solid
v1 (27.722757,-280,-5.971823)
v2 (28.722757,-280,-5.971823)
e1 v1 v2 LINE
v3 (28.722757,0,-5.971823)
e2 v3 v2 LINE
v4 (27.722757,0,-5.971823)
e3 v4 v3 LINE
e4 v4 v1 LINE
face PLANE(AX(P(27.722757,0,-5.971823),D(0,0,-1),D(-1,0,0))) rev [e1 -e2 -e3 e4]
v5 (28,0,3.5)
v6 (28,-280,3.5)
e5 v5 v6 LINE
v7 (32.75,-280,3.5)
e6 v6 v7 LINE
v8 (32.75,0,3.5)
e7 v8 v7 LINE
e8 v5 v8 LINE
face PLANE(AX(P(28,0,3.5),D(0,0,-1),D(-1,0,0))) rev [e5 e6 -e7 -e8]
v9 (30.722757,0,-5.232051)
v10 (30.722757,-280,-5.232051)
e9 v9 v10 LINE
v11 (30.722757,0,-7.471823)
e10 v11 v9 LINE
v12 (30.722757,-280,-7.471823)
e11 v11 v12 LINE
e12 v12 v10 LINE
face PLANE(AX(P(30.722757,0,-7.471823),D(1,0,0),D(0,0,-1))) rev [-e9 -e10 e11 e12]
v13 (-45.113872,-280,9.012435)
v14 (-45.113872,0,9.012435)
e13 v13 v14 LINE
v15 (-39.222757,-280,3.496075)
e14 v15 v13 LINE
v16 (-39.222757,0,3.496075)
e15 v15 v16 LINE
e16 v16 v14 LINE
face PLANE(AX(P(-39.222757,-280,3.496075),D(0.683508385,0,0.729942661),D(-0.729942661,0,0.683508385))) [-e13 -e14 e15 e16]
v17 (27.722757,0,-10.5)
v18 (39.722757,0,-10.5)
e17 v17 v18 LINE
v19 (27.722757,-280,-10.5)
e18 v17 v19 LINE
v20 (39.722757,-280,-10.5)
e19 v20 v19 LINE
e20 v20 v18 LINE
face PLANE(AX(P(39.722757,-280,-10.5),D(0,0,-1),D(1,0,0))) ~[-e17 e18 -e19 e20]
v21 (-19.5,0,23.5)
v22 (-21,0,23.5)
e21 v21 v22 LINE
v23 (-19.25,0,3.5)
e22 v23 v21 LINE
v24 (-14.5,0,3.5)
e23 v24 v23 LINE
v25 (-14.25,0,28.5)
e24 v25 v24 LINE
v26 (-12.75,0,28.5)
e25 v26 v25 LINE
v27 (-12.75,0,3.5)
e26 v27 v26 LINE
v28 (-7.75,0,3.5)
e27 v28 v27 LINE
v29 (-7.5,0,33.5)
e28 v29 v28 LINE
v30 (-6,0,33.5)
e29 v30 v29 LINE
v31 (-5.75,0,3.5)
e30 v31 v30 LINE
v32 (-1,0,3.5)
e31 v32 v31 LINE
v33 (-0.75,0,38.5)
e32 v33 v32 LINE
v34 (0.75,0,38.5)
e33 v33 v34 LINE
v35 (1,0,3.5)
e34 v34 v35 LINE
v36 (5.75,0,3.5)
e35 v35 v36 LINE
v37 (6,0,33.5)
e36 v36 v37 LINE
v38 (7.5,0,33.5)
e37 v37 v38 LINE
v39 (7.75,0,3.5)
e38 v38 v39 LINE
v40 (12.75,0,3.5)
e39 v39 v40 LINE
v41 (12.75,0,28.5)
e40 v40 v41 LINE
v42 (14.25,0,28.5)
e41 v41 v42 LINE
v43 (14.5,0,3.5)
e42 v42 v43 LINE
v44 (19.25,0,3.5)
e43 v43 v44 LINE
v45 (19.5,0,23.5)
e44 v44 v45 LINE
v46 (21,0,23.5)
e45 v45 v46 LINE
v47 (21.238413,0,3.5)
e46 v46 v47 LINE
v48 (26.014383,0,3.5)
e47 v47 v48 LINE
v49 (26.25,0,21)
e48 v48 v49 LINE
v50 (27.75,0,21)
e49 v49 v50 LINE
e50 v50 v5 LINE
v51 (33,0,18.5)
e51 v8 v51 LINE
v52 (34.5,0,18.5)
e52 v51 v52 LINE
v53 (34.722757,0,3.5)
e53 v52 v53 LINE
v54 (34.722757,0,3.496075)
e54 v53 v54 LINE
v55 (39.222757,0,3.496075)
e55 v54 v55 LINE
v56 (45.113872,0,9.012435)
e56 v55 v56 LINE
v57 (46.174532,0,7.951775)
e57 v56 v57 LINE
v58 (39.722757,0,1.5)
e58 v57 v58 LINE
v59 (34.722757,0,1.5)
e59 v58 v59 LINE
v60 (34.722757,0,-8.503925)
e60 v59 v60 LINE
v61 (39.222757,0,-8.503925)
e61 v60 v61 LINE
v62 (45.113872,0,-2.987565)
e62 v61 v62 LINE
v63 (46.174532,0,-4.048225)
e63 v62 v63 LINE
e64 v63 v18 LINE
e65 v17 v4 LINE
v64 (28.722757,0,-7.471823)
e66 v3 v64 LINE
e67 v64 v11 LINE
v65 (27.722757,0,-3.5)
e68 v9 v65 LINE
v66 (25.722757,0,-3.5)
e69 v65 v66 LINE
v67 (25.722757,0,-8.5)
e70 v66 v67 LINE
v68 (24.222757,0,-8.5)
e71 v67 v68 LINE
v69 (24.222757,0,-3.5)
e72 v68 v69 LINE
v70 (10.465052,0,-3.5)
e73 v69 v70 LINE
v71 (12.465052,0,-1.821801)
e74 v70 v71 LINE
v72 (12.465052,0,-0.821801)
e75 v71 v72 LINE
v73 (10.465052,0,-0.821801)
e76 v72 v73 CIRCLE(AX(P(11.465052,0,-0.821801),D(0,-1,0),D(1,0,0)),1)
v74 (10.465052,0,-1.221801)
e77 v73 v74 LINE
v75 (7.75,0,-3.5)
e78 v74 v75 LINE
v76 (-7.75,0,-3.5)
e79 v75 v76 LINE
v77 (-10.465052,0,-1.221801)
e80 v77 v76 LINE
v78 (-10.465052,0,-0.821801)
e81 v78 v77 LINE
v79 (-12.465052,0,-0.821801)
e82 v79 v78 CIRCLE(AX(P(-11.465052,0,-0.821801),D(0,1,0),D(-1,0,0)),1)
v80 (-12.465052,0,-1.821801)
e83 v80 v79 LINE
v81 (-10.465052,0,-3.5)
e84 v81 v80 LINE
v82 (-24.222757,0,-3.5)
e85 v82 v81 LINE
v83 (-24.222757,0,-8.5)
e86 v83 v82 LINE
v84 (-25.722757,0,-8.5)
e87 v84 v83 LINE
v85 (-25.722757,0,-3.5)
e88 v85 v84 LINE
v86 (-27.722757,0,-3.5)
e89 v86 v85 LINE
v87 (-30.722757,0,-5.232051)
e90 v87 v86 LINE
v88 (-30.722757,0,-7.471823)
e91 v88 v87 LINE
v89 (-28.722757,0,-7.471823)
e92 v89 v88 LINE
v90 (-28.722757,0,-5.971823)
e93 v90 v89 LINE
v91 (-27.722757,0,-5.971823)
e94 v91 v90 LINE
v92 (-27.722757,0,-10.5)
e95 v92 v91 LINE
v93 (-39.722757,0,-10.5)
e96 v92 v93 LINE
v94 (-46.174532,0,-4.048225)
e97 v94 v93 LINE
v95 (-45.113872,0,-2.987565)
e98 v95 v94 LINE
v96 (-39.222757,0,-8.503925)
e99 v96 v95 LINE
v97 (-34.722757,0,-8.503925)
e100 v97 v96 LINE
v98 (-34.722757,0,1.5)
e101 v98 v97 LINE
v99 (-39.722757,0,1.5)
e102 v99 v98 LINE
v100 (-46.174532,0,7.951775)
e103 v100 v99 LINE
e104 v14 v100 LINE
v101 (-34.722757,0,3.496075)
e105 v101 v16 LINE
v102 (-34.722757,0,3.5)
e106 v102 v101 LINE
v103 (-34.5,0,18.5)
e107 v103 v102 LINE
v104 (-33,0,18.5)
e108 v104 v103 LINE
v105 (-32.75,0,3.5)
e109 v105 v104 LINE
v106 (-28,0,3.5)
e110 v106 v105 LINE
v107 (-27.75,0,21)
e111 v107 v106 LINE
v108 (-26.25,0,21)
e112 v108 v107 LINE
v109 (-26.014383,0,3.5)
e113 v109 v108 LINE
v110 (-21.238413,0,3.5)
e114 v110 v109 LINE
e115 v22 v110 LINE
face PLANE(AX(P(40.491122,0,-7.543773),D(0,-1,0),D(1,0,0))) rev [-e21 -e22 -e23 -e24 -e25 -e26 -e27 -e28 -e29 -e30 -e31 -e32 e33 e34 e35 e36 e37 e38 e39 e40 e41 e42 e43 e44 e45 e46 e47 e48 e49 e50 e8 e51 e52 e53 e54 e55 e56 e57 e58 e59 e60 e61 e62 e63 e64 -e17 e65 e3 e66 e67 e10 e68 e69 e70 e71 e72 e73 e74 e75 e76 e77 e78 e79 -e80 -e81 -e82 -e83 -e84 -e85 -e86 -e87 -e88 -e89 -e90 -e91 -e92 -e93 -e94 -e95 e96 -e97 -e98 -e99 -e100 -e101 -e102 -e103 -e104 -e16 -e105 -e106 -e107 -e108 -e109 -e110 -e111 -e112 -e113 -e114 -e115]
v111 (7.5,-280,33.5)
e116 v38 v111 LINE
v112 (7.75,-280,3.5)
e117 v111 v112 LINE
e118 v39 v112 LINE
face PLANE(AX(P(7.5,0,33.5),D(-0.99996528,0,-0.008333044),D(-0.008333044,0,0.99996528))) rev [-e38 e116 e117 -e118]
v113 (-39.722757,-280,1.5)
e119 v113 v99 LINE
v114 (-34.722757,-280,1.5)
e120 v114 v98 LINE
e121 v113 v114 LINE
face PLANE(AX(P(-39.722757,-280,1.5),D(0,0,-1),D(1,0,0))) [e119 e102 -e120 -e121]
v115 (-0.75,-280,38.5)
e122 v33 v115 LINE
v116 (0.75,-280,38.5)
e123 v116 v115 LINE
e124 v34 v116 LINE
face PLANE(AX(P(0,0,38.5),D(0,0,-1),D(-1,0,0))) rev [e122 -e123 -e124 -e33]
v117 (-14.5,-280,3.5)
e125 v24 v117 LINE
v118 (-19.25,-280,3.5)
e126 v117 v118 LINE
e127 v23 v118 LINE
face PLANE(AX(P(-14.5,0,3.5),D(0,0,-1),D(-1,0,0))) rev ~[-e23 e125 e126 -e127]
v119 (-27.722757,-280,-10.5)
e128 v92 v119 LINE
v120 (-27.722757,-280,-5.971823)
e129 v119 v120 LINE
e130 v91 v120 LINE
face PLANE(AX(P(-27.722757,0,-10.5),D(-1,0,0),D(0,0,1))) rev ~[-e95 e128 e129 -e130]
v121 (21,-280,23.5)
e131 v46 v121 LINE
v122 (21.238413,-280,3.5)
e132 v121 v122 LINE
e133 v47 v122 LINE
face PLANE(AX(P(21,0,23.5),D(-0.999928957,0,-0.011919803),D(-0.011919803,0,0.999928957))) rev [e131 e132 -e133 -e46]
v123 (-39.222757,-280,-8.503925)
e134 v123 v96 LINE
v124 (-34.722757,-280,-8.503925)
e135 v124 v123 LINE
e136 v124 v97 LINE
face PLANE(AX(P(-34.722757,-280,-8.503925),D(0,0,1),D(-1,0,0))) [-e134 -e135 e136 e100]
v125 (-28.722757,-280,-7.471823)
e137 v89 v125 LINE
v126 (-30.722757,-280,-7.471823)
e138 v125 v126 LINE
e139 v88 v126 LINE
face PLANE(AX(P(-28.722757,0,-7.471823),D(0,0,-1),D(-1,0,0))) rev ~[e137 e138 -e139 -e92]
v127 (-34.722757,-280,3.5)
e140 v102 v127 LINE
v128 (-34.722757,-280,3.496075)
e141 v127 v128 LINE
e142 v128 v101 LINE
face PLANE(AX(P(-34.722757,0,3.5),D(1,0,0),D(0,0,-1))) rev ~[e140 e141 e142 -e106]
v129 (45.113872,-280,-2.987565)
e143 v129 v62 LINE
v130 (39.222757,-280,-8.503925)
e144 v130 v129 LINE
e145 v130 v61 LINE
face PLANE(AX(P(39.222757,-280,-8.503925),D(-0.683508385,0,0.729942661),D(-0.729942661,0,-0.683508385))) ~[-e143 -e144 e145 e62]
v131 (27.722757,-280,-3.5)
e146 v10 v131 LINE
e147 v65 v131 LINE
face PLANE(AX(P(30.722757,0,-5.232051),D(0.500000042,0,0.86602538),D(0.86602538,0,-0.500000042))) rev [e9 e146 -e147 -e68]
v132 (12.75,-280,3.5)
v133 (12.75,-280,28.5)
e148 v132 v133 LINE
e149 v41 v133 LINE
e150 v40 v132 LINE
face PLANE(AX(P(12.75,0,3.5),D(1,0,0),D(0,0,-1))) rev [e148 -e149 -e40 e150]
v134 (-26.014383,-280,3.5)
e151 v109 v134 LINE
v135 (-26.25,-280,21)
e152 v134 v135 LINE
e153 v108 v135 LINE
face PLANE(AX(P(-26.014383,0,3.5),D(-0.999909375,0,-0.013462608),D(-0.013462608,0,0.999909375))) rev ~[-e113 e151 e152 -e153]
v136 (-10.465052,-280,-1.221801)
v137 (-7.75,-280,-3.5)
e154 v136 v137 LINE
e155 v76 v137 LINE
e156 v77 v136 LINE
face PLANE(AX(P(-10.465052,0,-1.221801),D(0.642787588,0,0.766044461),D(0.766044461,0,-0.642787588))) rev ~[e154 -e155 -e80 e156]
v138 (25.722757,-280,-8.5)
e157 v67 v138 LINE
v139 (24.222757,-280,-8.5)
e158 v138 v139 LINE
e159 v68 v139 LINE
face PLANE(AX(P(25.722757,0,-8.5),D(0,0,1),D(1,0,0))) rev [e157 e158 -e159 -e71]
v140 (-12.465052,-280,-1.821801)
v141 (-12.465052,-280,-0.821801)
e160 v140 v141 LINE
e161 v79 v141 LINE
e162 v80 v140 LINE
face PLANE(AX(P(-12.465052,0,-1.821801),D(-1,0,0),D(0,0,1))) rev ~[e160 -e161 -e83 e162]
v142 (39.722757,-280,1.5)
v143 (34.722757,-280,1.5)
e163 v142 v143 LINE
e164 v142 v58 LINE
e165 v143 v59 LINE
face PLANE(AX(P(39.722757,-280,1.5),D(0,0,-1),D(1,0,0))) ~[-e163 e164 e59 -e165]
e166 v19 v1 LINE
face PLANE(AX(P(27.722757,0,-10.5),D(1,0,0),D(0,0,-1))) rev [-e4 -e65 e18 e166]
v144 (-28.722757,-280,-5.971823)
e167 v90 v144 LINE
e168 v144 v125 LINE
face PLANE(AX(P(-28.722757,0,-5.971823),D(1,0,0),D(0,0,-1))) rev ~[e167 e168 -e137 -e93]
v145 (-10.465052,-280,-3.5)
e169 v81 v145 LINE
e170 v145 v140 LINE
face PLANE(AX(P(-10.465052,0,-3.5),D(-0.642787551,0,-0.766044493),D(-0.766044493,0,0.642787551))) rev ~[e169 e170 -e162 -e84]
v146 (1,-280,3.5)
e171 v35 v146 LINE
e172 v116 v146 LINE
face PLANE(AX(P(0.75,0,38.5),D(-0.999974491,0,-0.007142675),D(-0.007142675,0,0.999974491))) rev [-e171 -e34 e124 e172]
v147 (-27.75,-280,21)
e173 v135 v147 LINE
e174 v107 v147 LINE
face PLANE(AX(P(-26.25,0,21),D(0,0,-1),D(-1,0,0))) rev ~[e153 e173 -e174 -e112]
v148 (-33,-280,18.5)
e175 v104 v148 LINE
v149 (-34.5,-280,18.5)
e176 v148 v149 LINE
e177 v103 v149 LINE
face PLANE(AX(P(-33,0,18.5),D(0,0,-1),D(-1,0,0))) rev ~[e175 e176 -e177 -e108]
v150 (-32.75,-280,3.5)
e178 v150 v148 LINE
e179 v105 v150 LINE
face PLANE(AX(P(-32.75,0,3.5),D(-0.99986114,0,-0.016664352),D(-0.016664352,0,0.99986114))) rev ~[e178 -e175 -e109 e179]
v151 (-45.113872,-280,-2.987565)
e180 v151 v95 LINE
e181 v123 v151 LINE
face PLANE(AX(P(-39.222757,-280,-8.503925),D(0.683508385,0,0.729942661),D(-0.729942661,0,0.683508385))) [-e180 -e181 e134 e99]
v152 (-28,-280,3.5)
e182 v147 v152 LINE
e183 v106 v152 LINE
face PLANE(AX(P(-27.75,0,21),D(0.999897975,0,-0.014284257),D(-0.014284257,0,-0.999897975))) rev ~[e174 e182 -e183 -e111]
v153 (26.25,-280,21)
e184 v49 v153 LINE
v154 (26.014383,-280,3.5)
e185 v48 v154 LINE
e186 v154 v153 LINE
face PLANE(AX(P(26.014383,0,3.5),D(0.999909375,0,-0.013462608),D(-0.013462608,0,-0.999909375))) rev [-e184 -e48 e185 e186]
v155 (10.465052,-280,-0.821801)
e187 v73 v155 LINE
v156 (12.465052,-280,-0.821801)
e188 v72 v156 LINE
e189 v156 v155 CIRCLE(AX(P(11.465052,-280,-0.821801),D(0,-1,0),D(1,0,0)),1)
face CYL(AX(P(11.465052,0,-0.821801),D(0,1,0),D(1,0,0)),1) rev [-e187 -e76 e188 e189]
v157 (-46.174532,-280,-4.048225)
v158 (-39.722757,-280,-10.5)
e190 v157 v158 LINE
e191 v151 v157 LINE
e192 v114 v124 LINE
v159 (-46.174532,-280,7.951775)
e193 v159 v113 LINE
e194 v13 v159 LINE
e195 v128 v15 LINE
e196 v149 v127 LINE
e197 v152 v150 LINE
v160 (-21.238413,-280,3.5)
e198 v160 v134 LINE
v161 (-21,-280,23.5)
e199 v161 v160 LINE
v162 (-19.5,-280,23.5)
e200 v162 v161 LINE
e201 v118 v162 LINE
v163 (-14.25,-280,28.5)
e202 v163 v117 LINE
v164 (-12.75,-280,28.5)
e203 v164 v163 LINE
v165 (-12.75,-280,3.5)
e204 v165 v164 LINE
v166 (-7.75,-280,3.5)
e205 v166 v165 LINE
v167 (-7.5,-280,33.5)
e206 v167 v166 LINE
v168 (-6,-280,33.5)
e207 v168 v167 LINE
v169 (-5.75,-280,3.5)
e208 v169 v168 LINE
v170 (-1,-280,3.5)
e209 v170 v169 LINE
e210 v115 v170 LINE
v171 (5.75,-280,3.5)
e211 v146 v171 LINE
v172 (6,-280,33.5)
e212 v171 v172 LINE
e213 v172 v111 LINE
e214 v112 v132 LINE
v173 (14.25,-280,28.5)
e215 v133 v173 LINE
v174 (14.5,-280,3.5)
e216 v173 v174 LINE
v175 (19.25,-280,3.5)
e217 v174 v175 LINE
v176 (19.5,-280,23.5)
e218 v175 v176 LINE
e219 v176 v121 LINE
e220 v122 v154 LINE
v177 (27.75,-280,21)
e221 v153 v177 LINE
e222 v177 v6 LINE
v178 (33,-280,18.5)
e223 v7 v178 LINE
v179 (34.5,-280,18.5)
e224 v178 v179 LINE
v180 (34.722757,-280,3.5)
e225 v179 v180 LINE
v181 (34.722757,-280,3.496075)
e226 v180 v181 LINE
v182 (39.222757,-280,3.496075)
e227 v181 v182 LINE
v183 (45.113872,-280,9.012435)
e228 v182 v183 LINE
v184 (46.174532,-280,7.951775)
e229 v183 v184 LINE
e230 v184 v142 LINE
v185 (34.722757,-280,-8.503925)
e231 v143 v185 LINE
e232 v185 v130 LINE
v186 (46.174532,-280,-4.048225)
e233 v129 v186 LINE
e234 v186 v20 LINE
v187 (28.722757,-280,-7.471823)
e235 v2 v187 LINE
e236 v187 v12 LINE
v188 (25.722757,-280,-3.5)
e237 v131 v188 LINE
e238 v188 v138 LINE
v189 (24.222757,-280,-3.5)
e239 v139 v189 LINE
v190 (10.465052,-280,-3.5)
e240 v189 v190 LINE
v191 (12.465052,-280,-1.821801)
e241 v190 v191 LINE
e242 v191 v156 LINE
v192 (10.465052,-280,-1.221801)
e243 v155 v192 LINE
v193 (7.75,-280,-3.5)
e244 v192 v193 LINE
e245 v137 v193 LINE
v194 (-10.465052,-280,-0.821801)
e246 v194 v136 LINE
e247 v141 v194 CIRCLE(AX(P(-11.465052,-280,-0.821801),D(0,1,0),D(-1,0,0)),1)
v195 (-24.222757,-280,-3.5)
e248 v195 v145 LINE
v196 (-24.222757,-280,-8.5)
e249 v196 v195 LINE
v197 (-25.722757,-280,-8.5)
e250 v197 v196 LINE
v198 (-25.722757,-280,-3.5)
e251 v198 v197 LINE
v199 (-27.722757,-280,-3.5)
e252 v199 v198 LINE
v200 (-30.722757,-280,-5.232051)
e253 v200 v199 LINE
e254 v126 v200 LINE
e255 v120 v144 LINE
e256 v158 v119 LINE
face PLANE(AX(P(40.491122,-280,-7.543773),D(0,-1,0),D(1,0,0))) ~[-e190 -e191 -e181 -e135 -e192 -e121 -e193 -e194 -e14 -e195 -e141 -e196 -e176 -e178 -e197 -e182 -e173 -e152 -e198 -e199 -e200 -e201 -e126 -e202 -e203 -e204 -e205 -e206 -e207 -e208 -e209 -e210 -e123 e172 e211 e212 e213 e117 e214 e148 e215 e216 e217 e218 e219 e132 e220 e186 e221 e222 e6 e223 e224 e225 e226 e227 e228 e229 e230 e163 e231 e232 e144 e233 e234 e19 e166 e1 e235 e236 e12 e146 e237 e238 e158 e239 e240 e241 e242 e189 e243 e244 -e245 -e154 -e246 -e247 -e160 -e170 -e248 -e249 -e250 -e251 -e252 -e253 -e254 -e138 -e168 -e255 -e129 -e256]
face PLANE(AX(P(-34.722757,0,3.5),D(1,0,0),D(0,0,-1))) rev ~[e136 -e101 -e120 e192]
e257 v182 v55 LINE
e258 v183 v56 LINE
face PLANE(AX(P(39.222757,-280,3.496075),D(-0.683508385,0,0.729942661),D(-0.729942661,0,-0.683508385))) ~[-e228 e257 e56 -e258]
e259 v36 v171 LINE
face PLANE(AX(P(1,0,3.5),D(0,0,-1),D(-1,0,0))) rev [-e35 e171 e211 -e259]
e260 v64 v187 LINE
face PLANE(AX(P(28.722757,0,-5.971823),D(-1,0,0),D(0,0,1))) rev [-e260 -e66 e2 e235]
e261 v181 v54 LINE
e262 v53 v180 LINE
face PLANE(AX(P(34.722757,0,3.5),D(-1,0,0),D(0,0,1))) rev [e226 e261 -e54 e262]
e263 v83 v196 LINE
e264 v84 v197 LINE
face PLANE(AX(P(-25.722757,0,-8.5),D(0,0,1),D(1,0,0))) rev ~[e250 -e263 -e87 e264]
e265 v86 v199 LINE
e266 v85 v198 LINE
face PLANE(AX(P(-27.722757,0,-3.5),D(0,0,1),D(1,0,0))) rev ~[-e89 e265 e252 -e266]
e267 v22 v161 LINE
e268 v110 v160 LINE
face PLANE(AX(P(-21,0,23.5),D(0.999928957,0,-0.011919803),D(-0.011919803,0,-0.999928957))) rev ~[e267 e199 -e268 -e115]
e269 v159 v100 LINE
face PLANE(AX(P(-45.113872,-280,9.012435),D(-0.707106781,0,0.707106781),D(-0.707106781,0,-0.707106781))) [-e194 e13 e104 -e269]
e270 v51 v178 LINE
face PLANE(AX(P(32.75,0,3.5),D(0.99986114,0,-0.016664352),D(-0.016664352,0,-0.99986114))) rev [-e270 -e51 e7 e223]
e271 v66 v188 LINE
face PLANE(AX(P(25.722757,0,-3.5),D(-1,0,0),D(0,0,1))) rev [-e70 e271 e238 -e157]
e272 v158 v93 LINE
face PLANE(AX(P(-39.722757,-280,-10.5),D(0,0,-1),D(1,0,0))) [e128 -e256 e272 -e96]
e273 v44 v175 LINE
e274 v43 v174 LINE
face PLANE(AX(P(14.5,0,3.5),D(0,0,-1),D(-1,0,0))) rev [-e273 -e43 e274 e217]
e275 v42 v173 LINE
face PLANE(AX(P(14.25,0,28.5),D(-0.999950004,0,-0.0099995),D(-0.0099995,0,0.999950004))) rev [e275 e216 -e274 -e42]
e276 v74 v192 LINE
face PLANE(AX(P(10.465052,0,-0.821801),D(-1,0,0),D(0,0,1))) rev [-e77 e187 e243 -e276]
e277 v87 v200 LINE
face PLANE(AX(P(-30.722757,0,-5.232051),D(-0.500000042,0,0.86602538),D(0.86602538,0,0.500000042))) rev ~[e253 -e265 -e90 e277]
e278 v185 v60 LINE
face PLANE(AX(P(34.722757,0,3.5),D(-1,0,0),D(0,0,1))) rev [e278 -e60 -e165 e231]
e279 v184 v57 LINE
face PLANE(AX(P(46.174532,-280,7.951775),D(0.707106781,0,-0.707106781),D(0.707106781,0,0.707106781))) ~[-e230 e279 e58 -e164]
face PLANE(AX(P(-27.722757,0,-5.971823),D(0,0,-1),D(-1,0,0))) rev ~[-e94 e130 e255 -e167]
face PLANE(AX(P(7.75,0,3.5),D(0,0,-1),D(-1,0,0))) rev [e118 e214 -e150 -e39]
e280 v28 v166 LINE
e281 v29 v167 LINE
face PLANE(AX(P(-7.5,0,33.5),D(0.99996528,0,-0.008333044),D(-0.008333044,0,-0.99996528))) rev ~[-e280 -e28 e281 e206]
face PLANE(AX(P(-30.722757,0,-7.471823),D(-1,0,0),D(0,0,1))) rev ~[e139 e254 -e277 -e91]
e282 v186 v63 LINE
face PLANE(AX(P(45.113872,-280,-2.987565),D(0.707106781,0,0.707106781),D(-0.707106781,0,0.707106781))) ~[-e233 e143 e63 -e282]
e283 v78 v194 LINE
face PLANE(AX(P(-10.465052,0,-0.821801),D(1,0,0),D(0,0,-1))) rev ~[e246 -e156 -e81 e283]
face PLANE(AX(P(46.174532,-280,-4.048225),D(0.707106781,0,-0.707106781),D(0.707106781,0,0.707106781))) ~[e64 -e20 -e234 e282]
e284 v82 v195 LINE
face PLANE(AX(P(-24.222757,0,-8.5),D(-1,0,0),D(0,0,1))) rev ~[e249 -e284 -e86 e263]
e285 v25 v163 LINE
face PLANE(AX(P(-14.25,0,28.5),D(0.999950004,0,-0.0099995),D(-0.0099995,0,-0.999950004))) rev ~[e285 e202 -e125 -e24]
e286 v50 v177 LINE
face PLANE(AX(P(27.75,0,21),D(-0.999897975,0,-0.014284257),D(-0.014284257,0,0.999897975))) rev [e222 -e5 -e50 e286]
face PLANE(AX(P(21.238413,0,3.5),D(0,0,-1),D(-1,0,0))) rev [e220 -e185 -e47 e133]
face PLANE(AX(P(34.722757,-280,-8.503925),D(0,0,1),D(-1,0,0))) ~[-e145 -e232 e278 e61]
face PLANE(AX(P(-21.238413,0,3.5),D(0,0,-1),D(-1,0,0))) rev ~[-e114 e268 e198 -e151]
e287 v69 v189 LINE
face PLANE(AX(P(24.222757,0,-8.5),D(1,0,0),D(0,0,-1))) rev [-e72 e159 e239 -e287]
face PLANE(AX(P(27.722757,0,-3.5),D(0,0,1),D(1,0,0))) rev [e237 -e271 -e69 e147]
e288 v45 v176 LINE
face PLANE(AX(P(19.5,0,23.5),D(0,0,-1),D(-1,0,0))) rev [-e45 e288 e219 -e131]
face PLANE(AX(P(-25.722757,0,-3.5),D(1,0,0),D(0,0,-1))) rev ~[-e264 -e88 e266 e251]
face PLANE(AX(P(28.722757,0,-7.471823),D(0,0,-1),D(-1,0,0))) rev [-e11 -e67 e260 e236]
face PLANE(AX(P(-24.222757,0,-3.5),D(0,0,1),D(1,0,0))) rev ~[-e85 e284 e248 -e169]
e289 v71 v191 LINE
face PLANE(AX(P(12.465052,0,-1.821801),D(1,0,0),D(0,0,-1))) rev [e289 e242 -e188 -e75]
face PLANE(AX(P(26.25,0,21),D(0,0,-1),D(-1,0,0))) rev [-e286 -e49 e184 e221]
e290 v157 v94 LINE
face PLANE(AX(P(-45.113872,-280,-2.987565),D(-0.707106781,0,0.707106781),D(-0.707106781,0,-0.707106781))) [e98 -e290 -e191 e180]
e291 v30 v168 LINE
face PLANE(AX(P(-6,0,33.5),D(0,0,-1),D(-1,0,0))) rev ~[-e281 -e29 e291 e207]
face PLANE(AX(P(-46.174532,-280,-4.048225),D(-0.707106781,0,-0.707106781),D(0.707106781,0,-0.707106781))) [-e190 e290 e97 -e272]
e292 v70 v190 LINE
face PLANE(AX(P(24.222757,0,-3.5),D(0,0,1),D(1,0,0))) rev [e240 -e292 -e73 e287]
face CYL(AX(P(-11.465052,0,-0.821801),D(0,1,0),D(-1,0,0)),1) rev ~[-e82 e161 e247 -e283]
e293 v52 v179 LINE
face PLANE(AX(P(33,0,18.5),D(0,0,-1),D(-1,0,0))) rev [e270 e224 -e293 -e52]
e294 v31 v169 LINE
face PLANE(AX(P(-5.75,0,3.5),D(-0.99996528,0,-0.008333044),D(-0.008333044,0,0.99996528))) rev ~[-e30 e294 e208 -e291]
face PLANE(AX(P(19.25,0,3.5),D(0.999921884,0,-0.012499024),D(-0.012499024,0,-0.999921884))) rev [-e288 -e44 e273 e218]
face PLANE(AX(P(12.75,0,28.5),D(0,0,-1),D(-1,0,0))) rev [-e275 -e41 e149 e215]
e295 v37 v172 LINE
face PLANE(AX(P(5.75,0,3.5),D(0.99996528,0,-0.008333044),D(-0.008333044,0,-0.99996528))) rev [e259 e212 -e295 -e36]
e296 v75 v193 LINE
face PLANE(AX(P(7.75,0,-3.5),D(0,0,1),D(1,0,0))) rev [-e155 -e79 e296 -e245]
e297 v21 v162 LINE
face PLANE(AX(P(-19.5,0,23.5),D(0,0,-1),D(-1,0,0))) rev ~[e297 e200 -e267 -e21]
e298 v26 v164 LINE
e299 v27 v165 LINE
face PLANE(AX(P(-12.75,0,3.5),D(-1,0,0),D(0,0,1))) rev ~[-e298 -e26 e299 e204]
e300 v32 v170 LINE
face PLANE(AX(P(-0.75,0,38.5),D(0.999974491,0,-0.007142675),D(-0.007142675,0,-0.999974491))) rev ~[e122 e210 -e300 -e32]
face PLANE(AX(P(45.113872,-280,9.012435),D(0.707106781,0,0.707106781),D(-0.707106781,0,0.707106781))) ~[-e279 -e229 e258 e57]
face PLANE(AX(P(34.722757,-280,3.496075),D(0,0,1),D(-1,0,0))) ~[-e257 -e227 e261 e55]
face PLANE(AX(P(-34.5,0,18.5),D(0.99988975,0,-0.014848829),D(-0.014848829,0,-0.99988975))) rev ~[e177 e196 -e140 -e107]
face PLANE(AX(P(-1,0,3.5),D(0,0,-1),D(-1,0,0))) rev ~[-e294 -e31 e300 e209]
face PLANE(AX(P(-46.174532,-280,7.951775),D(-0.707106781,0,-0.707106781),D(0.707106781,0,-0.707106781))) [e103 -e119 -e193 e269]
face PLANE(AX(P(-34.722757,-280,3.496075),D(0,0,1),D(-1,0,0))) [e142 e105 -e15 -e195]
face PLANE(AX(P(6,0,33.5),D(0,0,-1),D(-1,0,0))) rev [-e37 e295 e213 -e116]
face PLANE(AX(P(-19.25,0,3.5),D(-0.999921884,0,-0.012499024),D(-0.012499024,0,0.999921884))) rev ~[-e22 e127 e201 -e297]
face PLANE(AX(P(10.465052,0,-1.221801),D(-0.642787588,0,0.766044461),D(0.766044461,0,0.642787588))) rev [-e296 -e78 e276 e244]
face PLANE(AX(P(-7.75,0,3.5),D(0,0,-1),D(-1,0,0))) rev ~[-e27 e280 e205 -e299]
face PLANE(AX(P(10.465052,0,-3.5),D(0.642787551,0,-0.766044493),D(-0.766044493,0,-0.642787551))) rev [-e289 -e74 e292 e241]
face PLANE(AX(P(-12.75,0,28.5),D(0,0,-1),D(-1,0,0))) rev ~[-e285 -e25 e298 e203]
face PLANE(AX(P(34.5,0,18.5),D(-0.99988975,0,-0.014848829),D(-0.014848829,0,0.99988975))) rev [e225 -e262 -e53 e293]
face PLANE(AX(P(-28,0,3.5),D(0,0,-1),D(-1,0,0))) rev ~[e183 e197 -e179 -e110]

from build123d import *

# Parameters (mm, degrees)
F1_DEPTH = 280
F3_DEPTH = 280


with BuildPart() as f1:
    # F0 (on Front) → F1 (new body)
    with BuildSketch(Plane.XZ):
        with BuildLine():
            Line((-32.75, 3.5), (-33, 18.5))
            Line((-33, 18.5), (-34.5, 18.5))
            Line((-34.5, 18.5), (-34.722757, 3.5))
            Line((-34.722757, 3.5), (-34.722757, -10.5))
            Line((-34.722757, -10.5), (-27.722757, -10.5))
            Line((-27.722757, -10.5), (-27.722757, -5.971823))
            Line((-27.722757, -5.971823), (-28.722757, -5.971823))
            Line((-28.722757, -5.971823), (-28.722757, -7.471823))
            Line((-28.722757, -7.471823), (-30.722757, -7.471823))
            Line((-30.722757, -7.471823), (-30.722757, -5.232051))
            Line((-30.722757, -5.232051), (-27.722757, -3.5))
            Line((-27.722757, -3.5), (-25.722757, -3.5))
            Line((-25.722757, -3.5), (-25.722757, -8.5))
            Line((-25.722757, -8.5), (-24.222757, -8.5))
            Line((-24.222757, -8.5), (-24.222757, -3.5))
            Line((-24.222757, -3.5), (-10.465052, -3.5))
            Line((-10.465052, -3.5), (-12.465052, -1.821801))
            Line((-12.465052, -1.821801), (-12.465052, -0.821801))
            ThreePointArc((-12.465052, -0.821801), (-11.465052, 0.178199), (-10.465052, -0.821801))
            Line((-10.465052, -0.821801), (-10.465052, -1.221801))
            Line((-10.465052, -1.221801), (-7.75, -3.5))
            Line((-7.75, -3.5), (0, -3.5))
            Line((0, -3.5), (0, 38.5))
            Line((0, 38.5), (-0.75, 38.5))
            Line((-0.75, 38.5), (-1, 3.5))
            Line((-1, 3.5), (-5.75, 3.5))
            Line((-5.75, 3.5), (-6, 33.5))
            Line((-6, 33.5), (-7.5, 33.5))
            Line((-7.5, 33.5), (-7.75, 3.5))
            Line((-7.75, 3.5), (-12.75, 3.5))
            Line((-12.75, 3.5), (-12.75, 28.5))
            Line((-12.75, 28.5), (-14.25, 28.5))
            Line((-14.25, 28.5), (-14.5, 3.5))
            Line((-14.5, 3.5), (-19.25, 3.5))
            Line((-19.25, 3.5), (-19.5, 23.5))
            Line((-19.5, 23.5), (-21, 23.5))
            Line((-21, 23.5), (-21.238413, 3.5))
            Line((-21.238413, 3.5), (-26.014383, 3.5))
            Line((-26.014383, 3.5), (-26.25, 21))
            Line((-26.25, 21), (-27.75, 21))
            Line((-27.75, 21), (-28, 3.5))
            Line((-28, 3.5), (-32.75, 3.5))
        make_face()
    extrude(amount=F1_DEPTH)

    # F2 (on face) → F3 (join)
    with BuildSketch(Plane.XZ.offset(280)):
        Polygon((-34.722757, -10.5), (-34.722757, -8.503925), (-39.222757, -8.503925), (-45.113872, -2.987565), (-46.174532, -4.048225), (-39.722757, -10.5), align=None)
        Polygon((-46.174532, 7.951775), (-39.722757, 1.5), (-34.722757, 1.5), (-34.722757, 3.496075), (-39.222757, 3.496075), (-45.113872, 9.012435), align=None)
    extrude(amount=-F3_DEPTH)

    # F4: F1 across face


with BuildPart() as f1_1:
    add(f1.part)
    add(f1.part.mirror(Plane(origin=(0, -140, 17.5), x_dir=(0, 1, 0), z_dir=(1, 0, 0))))


solid = f1_1.part
